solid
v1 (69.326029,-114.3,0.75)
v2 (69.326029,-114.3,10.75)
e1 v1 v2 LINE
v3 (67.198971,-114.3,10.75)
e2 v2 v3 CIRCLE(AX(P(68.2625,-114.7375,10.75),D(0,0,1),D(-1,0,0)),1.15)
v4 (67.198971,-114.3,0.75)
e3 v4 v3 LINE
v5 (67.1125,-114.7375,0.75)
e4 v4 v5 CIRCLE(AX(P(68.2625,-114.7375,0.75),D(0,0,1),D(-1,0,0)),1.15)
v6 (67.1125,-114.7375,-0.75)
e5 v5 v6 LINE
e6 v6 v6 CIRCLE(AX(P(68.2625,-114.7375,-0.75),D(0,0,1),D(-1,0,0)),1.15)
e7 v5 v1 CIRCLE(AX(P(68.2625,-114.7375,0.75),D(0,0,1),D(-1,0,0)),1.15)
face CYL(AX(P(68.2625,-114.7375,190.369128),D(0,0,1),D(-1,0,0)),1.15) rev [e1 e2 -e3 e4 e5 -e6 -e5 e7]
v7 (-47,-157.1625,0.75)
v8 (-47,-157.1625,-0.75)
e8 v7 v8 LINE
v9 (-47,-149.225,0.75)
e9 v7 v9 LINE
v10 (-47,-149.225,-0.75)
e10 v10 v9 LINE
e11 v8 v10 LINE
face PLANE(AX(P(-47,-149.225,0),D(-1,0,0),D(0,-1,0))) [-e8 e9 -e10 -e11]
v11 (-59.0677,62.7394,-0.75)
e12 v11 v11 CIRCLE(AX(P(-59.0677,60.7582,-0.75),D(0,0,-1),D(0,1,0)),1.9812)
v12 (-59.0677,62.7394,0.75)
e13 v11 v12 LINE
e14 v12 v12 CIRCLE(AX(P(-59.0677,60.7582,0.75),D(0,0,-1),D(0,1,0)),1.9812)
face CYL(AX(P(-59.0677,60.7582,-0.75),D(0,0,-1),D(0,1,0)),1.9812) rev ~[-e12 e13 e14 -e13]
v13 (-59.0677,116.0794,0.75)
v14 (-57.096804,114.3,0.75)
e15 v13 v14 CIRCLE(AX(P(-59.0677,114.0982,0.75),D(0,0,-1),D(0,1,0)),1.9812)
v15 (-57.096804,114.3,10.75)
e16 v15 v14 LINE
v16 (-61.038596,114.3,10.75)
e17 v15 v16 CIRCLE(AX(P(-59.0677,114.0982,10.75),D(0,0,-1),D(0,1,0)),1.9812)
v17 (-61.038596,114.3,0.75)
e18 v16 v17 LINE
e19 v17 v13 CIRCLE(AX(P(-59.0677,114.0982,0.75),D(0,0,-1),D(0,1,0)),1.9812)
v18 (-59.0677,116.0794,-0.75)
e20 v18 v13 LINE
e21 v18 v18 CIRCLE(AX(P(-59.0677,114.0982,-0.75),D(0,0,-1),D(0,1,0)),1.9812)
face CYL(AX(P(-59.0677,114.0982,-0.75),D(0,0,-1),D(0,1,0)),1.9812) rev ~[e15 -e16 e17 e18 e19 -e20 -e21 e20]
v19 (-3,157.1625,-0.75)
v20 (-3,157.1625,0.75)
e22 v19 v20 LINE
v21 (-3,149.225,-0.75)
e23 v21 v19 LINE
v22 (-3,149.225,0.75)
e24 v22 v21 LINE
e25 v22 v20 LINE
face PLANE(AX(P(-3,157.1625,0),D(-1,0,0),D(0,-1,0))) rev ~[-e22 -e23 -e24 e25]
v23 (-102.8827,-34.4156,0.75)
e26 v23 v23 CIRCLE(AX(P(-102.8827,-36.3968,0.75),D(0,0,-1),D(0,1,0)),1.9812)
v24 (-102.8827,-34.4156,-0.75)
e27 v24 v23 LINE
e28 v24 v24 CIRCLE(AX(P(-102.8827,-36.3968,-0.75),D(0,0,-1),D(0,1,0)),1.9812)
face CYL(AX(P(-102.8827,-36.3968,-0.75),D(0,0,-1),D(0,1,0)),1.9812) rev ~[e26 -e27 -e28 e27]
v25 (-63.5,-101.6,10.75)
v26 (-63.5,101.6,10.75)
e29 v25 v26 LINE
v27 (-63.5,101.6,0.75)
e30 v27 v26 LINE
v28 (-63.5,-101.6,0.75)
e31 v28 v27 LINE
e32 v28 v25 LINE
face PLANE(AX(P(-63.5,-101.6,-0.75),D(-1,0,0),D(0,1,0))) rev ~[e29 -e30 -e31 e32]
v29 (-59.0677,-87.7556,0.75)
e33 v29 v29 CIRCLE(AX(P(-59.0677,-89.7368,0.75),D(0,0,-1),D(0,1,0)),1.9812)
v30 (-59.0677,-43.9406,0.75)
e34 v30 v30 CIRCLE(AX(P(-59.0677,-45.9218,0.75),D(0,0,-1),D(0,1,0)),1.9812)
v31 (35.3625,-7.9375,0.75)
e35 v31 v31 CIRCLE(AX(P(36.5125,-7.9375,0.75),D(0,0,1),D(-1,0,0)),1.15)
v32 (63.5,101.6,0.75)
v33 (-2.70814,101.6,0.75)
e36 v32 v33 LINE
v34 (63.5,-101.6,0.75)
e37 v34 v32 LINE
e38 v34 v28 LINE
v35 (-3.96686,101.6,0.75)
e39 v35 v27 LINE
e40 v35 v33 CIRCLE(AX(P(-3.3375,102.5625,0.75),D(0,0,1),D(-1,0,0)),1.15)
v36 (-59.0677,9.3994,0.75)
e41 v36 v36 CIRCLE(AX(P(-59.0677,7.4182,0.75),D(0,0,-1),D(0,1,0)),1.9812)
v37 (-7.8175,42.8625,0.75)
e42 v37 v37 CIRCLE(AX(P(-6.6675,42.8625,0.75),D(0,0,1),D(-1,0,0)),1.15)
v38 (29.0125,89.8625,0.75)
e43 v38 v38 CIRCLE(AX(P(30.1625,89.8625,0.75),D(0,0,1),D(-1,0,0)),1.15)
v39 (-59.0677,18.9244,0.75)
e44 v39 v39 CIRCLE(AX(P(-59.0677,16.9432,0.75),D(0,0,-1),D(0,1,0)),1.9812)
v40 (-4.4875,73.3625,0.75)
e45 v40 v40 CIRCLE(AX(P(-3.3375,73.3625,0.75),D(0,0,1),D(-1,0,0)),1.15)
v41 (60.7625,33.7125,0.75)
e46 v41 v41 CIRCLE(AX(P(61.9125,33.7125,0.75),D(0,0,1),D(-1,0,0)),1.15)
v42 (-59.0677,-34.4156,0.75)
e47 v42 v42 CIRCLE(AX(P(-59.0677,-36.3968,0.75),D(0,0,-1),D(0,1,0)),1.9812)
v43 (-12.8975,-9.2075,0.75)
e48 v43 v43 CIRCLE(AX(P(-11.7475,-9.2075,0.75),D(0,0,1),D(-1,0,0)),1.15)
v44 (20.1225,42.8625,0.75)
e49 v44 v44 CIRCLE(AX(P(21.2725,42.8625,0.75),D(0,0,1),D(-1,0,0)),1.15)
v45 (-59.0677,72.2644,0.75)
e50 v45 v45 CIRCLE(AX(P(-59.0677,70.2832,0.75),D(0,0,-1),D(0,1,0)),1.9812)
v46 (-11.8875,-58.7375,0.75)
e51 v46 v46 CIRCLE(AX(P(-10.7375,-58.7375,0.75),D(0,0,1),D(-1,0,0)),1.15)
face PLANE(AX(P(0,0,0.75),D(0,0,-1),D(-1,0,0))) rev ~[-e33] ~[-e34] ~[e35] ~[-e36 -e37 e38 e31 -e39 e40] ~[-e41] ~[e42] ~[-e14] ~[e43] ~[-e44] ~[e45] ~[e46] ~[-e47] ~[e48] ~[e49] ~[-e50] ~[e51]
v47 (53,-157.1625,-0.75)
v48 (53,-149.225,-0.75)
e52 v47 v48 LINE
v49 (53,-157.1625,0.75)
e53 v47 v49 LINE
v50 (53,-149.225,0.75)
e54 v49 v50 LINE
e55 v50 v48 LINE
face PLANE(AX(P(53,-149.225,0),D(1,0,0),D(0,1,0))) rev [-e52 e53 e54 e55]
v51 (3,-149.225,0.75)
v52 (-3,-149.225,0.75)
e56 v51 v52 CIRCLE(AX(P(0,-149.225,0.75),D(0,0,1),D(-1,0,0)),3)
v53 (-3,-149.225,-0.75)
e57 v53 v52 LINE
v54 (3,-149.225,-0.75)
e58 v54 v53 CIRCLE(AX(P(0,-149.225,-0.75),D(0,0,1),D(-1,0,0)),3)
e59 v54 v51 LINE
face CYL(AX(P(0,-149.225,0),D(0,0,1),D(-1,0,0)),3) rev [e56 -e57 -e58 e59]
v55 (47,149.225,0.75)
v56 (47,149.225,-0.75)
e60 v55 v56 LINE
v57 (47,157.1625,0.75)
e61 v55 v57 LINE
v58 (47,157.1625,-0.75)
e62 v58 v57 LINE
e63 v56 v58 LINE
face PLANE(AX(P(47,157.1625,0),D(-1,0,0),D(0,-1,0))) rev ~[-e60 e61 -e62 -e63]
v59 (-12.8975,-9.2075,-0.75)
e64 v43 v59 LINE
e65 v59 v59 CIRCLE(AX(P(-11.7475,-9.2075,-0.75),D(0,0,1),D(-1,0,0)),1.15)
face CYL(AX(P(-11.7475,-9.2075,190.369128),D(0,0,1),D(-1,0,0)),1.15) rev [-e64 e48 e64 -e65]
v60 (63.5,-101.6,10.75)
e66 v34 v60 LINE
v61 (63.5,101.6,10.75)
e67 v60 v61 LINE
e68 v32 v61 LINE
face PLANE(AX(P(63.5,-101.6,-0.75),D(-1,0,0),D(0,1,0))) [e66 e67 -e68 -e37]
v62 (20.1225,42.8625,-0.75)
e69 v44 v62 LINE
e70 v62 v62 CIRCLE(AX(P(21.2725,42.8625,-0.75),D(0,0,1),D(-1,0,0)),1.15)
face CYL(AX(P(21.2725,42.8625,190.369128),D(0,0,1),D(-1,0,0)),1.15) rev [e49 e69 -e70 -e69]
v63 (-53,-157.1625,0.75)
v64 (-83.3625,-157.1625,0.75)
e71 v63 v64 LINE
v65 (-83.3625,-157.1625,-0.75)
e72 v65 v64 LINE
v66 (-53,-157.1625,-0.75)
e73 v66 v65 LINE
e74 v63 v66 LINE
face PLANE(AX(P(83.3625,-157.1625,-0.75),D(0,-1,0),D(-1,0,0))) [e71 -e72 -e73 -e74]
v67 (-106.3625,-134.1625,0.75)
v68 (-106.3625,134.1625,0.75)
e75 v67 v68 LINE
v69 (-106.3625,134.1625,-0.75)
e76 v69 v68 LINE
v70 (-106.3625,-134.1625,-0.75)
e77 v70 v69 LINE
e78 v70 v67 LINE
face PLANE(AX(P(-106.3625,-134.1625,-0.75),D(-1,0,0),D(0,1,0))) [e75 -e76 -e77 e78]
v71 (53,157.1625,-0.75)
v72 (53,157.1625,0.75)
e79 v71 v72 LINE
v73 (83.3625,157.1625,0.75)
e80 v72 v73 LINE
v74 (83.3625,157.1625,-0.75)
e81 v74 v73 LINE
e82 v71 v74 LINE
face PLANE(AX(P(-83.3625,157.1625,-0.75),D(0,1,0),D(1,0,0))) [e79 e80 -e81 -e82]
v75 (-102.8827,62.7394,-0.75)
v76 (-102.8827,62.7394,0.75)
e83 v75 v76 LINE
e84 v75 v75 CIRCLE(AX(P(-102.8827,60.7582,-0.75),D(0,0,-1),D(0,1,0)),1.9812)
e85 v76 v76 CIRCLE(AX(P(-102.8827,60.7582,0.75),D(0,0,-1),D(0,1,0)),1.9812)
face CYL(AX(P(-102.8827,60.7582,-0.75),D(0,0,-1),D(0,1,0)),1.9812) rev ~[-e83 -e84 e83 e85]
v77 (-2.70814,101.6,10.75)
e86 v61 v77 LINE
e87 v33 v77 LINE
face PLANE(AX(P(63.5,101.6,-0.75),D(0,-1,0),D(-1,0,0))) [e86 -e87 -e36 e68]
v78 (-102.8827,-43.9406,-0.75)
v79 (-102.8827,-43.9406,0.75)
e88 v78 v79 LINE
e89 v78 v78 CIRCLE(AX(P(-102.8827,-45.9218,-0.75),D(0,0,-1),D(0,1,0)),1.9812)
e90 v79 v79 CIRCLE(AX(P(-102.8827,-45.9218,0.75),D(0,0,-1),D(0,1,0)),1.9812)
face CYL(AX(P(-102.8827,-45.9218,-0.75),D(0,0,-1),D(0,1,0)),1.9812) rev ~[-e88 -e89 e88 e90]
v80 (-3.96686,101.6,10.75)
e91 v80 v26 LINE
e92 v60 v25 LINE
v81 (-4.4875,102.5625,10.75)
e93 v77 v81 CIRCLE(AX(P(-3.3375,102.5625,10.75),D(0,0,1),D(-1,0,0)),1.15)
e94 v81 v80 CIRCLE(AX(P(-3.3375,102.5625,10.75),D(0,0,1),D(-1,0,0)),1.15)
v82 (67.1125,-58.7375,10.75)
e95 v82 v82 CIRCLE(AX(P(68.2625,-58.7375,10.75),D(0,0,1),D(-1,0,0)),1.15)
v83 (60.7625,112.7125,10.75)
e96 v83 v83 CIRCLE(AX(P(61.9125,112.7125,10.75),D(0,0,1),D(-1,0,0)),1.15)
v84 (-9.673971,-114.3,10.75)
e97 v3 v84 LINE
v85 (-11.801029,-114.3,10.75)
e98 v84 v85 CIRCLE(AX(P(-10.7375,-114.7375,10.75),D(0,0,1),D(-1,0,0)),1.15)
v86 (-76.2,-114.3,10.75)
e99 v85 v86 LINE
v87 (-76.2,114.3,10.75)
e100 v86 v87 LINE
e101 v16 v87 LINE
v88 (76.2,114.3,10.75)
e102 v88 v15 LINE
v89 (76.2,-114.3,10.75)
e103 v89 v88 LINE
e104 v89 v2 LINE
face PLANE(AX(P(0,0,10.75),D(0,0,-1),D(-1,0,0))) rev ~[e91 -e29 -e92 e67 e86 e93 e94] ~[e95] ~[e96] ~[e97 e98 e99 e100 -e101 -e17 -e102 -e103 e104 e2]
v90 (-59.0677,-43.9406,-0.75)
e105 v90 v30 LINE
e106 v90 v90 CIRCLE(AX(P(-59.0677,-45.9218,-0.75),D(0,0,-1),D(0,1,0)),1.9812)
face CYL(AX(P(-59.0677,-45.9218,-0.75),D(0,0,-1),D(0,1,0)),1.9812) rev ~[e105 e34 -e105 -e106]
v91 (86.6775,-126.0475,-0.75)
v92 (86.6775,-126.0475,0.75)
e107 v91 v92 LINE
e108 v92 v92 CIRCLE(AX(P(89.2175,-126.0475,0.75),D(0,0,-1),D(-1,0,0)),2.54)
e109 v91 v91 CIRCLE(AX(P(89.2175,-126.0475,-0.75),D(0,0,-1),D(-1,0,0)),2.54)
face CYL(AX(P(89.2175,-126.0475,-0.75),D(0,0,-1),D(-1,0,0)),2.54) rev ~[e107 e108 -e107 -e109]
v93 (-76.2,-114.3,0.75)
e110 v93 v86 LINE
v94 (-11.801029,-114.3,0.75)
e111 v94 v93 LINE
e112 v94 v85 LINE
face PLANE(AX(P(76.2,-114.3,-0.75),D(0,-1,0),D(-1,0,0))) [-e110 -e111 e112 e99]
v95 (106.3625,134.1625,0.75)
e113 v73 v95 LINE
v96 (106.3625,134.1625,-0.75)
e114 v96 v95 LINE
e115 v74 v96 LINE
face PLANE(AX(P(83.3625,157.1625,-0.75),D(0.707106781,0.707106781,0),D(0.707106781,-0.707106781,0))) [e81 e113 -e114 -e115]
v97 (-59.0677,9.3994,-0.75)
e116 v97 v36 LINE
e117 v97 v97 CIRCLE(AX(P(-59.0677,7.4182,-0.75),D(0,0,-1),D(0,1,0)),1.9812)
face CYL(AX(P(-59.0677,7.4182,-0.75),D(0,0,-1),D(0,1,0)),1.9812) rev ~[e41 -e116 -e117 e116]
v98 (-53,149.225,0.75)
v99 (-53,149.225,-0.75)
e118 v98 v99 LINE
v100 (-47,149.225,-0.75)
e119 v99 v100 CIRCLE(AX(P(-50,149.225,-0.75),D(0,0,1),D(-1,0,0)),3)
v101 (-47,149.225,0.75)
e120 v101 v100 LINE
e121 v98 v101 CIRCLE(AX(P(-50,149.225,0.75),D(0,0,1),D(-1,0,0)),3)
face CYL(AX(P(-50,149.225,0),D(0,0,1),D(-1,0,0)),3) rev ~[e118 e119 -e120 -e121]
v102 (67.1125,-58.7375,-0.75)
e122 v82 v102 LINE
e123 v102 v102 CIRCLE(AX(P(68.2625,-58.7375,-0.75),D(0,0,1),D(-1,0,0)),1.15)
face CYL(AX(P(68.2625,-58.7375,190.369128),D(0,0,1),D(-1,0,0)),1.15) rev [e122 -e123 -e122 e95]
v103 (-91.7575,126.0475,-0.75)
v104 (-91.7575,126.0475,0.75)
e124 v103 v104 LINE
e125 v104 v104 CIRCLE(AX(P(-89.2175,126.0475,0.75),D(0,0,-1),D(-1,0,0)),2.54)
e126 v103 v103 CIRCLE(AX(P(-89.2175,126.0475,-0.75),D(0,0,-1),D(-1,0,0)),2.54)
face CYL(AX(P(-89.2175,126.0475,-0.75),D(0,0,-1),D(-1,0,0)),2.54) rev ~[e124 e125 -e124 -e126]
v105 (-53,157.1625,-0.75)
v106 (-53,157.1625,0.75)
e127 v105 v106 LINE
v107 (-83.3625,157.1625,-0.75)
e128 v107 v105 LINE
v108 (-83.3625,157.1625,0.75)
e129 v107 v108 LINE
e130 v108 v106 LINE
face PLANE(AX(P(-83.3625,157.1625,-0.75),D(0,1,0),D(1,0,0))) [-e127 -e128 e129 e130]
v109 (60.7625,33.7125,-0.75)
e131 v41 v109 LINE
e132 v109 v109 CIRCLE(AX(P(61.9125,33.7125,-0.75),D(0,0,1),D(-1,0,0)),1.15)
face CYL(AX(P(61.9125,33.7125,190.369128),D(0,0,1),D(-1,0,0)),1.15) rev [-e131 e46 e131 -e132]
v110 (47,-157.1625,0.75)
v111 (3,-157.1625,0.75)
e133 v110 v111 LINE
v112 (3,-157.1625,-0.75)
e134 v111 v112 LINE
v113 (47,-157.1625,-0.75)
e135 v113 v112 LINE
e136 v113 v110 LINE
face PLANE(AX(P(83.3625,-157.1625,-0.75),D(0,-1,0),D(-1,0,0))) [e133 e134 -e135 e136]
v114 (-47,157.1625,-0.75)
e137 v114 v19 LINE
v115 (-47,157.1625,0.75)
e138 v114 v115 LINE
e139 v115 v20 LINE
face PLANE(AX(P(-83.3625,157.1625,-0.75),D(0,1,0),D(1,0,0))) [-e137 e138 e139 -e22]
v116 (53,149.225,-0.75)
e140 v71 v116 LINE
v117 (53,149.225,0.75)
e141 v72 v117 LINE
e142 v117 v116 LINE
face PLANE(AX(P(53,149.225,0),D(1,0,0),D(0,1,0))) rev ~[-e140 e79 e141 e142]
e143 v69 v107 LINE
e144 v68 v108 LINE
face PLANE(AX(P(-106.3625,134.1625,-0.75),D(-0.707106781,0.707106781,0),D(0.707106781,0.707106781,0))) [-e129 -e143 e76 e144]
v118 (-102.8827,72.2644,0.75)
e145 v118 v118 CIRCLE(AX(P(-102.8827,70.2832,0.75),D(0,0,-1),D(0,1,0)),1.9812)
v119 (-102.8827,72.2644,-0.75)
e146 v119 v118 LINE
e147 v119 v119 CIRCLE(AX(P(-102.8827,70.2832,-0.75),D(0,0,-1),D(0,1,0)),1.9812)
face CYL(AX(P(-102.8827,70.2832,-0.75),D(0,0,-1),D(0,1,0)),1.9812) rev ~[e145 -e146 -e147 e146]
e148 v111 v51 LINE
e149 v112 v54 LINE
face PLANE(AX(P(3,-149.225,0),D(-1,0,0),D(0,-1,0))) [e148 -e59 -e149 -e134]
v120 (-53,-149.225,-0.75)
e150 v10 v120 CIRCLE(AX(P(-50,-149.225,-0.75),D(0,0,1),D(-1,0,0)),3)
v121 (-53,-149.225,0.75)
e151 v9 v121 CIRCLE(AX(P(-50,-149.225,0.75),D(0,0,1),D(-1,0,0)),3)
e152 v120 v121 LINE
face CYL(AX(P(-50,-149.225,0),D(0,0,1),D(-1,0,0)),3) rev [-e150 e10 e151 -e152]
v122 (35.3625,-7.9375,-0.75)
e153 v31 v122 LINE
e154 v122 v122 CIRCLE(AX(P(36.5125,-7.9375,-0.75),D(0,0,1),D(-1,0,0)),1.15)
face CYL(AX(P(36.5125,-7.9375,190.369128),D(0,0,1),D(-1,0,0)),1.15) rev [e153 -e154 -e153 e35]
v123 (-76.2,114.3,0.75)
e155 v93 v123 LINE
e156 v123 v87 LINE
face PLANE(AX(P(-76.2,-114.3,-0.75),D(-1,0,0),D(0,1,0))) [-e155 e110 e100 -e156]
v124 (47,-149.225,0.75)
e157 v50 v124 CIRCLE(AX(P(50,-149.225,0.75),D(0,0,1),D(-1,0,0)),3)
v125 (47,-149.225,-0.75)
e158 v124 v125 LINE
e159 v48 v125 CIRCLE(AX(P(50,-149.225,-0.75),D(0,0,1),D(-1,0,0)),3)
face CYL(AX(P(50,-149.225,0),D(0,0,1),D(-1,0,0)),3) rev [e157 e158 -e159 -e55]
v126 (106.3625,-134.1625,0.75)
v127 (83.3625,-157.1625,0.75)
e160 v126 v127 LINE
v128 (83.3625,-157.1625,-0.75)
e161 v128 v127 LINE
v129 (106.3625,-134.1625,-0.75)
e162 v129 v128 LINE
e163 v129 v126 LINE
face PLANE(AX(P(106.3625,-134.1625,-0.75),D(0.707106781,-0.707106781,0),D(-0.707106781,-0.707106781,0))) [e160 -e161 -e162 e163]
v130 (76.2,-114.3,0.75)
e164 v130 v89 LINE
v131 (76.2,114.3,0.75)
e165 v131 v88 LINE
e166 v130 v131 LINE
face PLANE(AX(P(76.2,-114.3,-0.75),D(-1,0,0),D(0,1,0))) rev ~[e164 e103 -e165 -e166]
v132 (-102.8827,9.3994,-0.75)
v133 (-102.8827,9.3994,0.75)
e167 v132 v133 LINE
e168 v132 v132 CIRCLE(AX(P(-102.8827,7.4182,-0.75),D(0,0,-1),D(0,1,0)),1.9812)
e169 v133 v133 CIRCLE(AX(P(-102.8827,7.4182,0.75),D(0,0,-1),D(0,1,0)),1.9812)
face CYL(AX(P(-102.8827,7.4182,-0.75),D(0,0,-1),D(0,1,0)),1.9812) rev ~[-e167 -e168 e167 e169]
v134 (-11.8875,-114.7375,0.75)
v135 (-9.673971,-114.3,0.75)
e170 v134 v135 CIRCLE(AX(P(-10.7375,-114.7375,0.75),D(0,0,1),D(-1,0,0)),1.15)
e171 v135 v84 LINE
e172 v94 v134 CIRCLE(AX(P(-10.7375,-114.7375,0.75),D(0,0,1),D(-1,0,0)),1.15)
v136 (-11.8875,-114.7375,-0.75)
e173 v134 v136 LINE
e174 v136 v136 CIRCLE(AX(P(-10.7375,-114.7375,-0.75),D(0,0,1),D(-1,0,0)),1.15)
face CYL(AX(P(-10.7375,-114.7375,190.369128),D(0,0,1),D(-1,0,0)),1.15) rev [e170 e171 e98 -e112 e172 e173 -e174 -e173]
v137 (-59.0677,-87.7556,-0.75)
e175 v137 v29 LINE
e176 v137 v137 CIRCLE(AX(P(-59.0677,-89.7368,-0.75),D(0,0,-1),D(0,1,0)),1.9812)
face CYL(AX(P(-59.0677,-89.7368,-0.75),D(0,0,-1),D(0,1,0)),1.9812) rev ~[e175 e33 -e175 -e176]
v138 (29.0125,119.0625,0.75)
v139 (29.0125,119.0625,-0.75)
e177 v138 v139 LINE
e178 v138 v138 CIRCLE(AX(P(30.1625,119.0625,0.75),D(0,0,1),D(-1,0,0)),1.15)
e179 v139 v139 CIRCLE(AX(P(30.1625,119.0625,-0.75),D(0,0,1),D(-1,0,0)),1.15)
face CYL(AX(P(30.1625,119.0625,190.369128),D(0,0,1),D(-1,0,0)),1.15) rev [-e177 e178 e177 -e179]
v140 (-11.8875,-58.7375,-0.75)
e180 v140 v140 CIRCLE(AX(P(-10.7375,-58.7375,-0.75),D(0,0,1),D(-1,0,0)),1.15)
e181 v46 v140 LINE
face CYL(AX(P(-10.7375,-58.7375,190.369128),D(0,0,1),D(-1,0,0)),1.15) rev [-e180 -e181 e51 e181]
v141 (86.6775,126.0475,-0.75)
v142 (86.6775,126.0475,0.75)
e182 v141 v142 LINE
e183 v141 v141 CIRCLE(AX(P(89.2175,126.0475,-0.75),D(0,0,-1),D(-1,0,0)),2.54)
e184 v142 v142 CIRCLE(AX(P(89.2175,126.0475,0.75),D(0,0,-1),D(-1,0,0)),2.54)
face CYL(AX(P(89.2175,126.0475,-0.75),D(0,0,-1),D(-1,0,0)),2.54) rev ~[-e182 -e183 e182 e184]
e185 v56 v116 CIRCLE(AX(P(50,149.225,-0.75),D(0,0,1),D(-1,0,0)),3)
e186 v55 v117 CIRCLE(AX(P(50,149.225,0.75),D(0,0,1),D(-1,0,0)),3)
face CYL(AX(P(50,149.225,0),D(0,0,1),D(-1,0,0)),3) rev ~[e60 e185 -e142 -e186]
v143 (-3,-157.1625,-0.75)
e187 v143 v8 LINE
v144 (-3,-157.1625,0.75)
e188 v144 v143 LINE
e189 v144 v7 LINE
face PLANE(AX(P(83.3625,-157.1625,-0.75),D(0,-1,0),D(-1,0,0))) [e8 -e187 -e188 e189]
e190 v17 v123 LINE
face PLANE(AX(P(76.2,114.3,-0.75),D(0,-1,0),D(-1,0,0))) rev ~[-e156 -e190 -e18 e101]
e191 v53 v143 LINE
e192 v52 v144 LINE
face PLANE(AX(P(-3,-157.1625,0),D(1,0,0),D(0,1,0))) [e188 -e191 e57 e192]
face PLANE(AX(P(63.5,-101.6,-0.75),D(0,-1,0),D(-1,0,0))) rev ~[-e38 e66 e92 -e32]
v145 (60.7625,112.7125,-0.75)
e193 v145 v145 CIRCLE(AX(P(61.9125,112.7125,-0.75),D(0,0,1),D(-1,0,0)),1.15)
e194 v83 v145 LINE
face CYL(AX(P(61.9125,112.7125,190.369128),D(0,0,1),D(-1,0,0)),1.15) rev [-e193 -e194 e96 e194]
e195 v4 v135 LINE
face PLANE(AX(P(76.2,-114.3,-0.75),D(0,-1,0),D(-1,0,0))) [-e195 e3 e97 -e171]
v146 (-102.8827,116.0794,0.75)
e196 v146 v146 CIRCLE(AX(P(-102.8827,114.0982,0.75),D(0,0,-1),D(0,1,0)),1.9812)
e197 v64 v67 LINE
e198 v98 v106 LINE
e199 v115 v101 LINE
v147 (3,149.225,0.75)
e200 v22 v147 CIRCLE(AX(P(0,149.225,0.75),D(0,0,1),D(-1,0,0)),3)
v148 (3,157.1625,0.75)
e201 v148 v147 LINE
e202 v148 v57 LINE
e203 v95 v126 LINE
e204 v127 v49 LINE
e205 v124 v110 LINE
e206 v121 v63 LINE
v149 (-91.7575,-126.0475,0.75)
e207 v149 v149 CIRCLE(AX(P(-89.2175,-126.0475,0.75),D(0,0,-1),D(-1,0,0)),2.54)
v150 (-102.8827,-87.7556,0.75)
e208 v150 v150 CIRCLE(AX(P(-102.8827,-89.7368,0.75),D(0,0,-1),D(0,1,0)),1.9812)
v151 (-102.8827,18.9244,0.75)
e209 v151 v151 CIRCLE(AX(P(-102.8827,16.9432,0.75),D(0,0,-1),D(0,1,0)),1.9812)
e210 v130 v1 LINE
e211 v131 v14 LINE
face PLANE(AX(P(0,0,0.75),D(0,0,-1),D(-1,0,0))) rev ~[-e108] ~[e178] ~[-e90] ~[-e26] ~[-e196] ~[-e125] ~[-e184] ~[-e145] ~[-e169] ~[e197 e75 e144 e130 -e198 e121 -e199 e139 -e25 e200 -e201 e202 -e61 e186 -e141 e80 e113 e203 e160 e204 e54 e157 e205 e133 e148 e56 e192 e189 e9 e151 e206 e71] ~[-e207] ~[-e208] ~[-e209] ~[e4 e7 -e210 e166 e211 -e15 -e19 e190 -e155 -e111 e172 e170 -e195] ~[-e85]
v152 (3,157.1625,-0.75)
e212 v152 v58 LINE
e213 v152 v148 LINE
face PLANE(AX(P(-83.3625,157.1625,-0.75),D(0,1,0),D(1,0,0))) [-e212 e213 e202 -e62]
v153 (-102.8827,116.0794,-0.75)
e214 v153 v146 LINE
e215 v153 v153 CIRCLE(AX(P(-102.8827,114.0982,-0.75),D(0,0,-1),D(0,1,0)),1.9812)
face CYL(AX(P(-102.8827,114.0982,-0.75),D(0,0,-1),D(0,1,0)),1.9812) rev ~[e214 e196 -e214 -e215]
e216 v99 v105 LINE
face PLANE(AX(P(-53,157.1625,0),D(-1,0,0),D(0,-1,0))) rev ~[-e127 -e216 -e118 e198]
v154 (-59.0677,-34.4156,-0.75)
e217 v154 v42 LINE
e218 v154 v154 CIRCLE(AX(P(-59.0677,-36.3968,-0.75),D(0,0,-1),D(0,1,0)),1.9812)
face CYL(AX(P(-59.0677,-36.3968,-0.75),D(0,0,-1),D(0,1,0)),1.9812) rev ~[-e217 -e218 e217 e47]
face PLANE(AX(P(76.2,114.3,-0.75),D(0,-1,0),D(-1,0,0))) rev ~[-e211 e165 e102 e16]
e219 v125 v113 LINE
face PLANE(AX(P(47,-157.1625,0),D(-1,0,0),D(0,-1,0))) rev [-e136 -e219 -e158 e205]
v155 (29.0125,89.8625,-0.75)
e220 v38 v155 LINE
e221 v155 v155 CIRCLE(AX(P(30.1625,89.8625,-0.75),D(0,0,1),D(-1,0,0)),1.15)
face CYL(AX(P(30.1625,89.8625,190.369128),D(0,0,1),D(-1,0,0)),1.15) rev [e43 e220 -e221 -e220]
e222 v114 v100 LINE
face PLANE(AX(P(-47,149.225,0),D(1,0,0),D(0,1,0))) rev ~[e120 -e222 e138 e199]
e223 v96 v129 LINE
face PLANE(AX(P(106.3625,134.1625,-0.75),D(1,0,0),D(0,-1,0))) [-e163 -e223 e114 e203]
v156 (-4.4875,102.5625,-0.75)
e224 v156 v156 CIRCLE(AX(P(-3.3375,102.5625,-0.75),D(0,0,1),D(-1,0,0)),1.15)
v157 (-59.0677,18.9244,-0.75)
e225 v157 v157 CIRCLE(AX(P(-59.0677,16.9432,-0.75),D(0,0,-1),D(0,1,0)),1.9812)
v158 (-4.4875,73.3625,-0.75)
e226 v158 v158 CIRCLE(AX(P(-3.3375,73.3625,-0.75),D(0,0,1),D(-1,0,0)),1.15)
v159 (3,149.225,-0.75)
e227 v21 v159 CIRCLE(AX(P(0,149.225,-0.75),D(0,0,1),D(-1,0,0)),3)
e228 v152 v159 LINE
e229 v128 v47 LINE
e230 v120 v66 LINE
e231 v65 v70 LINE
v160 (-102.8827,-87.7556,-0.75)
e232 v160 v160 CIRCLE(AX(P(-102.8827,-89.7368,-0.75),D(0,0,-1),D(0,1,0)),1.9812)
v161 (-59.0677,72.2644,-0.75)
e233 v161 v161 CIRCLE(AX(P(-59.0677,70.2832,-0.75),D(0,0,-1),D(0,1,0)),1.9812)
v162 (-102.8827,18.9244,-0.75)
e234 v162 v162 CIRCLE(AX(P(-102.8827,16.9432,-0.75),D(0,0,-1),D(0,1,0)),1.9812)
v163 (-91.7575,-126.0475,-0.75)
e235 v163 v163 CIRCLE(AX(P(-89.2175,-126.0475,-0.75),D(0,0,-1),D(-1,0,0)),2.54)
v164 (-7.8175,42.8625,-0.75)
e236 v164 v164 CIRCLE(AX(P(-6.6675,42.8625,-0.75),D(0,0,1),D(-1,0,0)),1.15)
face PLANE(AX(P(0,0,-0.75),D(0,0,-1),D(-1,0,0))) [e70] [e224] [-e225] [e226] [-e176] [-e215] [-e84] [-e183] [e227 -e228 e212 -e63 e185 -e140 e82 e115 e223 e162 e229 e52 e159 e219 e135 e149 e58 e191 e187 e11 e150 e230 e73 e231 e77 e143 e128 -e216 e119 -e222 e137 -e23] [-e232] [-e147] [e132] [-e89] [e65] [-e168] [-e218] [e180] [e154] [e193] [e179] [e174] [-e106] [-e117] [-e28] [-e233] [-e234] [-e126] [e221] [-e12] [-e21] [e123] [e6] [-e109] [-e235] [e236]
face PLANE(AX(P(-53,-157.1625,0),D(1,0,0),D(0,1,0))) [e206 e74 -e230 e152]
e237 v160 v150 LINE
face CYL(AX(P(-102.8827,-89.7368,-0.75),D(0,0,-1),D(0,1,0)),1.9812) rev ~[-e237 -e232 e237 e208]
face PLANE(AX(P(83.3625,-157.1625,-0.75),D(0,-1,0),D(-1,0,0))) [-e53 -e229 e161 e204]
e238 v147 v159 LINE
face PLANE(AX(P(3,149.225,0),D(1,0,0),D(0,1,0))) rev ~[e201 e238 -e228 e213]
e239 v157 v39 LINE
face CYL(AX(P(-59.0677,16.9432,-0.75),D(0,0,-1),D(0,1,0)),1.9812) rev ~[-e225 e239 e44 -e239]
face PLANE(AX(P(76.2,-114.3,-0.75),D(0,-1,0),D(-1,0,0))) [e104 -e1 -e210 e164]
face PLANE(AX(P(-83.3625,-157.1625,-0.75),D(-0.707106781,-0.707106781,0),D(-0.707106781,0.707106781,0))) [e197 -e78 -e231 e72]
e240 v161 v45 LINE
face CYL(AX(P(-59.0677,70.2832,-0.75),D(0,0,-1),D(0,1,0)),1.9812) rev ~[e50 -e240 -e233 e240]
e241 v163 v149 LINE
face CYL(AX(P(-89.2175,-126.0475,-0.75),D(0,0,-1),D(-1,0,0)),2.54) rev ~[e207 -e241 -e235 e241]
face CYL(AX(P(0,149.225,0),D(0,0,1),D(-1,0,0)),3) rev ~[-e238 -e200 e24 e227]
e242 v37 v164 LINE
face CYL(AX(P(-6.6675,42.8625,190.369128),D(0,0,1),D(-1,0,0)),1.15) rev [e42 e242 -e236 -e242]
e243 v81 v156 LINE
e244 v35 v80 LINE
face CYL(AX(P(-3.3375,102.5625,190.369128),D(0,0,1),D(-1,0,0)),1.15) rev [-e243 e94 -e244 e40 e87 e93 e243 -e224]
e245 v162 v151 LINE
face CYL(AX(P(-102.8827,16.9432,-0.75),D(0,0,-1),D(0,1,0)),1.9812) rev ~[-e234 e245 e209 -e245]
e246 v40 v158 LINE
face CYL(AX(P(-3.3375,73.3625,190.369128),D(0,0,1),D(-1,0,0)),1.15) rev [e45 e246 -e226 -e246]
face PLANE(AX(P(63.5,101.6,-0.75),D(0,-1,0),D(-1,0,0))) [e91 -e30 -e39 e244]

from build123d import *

# Parameters (mm, degrees)
BOSS_EXTRUDE1_DEPTH      = 0.75
BOSS_EXTRUDE1_DEPTH_BACK = 0.75
CUT_EXTRUDE1_DEPTH       = 190.772483022
LPATTERN1_COUNT          = 7
LPATTERN1_PITCH          = 50
MIRROR1_COPY_1_DEPTH     = 190.772483022
MIRROR1_COPY_2_DEPTH     = 190.772483022
MIRROR1_COPY_3_DEPTH     = 190.772483022
MIRROR1_COPY_4_DEPTH     = 190.772483022
MIRROR1_COPY_5_DEPTH     = 190.772483022
MIRROR1_COPY_6_DEPTH     = 190.772483022
SKETCH6_W                = 152.4
SKETCH6_H                = 228.6
SKETCH6_W_2              = 127
SKETCH6_H_2              = 203.2
BOSS_EXTRUDE2_DEPTH      = 11.5
SKETCH7_R                = 2.54
CUT_EXTRUDE2_DEPTH       = 191.11912795
CUT_EXTRUDE3_DEPTH       = 191.11912795
CUT_EXTRUDE3_DEPTH_BACK  = 191.11912795
SKETCH8_R                = 1.15
CUT_EXTRUDE4_DEPTH       = 191.11912795


with BuildPart() as part:
    # Sketch3 → Boss-Extrude1 (new, two sides: drawn at the far end of the back side and taken through both)
    with BuildSketch(Plane.XY.offset(-BOSS_EXTRUDE1_DEPTH_BACK)):
        Polygon((-106.3625, 134.1625), (-83.3625, 157.1625), (83.3625, 157.1625), (106.3625, 134.1625), (106.3625, -134.1625), (83.3625, -157.1625), (-83.3625, -157.1625), (-106.3625, -134.1625), align=None)
    extrude(amount=BOSS_EXTRUDE1_DEPTH + BOSS_EXTRUDE1_DEPTH_BACK)

    # Sketch4 → Cut-Extrude1 (cut, symmetric)
    with BuildSketch(Plane.XY):
        with BuildLine():
            Line((53, 149.225), (53, 157.1625))
            Line((53, 157.1625), (47, 157.1625))
            Line((47, 157.1625), (47, 149.225))
            ThreePointArc((47, 149.225), (50, 146.225), (53, 149.225))
        make_face()
    cut_extrude1 = extrude(amount=CUT_EXTRUDE1_DEPTH, both=True, mode=Mode.SUBTRACT)

    # LPattern1: Cut-Extrude1 ×7
    with Locations(*[(-i * LPATTERN1_PITCH, 0, 0) for i in range(1, LPATTERN1_COUNT)]):
        add(cut_extrude1, mode=Mode.SUBTRACT)

    # Mirror1: Cut-Extrude1 across plane
    add(cut_extrude1.mirror(Plane.ZX), mode=Mode.SUBTRACT)

    # Mirror1 copy 1 sketch → Mirror1 copy 1 (cut, symmetric)
    with BuildSketch(Plane(origin=(-50, 0, 0), x_dir=(1, 0, 0), z_dir=(0, 0, 1))):
        with BuildLine():
            Line((53, -149.225), (53, -157.1625))
            Line((53, -157.1625), (47, -157.1625))
            Line((47, -157.1625), (47, -149.225))
            ThreePointArc((47, -149.225), (50, -146.225), (53, -149.225))
        make_face()
    extrude(amount=MIRROR1_COPY_1_DEPTH, both=True, mode=Mode.SUBTRACT)

    # Mirror1 copy 2 sketch → Mirror1 copy 2 (cut, symmetric)
    with BuildSketch(Plane(origin=(-100, 0, 0), x_dir=(1, 0, 0), z_dir=(0, 0, 1))):
        with BuildLine():
            Line((53, -149.225), (53, -157.1625))
            Line((53, -157.1625), (47, -157.1625))
            Line((47, -157.1625), (47, -149.225))
            ThreePointArc((47, -149.225), (50, -146.225), (53, -149.225))
        make_face()
    extrude(amount=MIRROR1_COPY_2_DEPTH, both=True, mode=Mode.SUBTRACT)

    # Mirror1 copy 3 sketch → Mirror1 copy 3 (cut, symmetric)
    with BuildSketch(Plane(origin=(-150, 0, 0), x_dir=(1, 0, 0), z_dir=(0, 0, 1))):
        with BuildLine():
            Line((53, -149.225), (53, -157.1625))
            Line((53, -157.1625), (47, -157.1625))
            Line((47, -157.1625), (47, -149.225))
            ThreePointArc((47, -149.225), (50, -146.225), (53, -149.225))
        make_face()
    extrude(amount=MIRROR1_COPY_3_DEPTH, both=True, mode=Mode.SUBTRACT)

    # Mirror1 copy 4 sketch → Mirror1 copy 4 (cut, symmetric)
    with BuildSketch(Plane(origin=(-200, 0, 0), x_dir=(1, 0, 0), z_dir=(0, 0, 1))):
        with BuildLine():
            Line((53, -149.225), (53, -157.1625))
            Line((53, -157.1625), (47, -157.1625))
            Line((47, -157.1625), (47, -149.225))
            ThreePointArc((47, -149.225), (50, -146.225), (53, -149.225))
        make_face()
    extrude(amount=MIRROR1_COPY_4_DEPTH, both=True, mode=Mode.SUBTRACT)

    # Mirror1 copy 5 sketch → Mirror1 copy 5 (cut, symmetric)
    with BuildSketch(Plane(origin=(-250, 0, 0), x_dir=(1, 0, 0), z_dir=(0, 0, 1))):
        with BuildLine():
            Line((53, -149.225), (53, -157.1625))
            Line((53, -157.1625), (47, -157.1625))
            Line((47, -157.1625), (47, -149.225))
            ThreePointArc((47, -149.225), (50, -146.225), (53, -149.225))
        make_face()
    extrude(amount=MIRROR1_COPY_5_DEPTH, both=True, mode=Mode.SUBTRACT)

    # Mirror1 copy 6 sketch → Mirror1 copy 6 (cut, symmetric)
    with BuildSketch(Plane(origin=(-300, 0, 0), x_dir=(1, 0, 0), z_dir=(0, 0, 1))):
        with BuildLine():
            Line((53, -149.225), (53, -157.1625))
            Line((53, -157.1625), (47, -157.1625))
            Line((47, -157.1625), (47, -149.225))
            ThreePointArc((47, -149.225), (50, -146.225), (53, -149.225))
        make_face()
    extrude(amount=MIRROR1_COPY_6_DEPTH, both=True, mode=Mode.SUBTRACT)

    # Sketch6 → Boss-Extrude2 (add)
    with BuildSketch(Plane(origin=(0, 0, -0.75), x_dir=(-1, 0, 0), z_dir=(0, 0, -1))):
        Rectangle(SKETCH6_W, SKETCH6_H)
        Rectangle(SKETCH6_W_2, SKETCH6_H_2, mode=Mode.SUBTRACT)
    extrude(amount=-BOSS_EXTRUDE2_DEPTH)

    # Sketch7 → Cut-Extrude2 (cut, through all)
    with BuildSketch(Plane(origin=(0, 0, -0.75), x_dir=(-1, 0, 0), z_dir=(0, 0, -1))):
        with Locations((89.2175, 126.0475)):
            Circle(SKETCH7_R)
        with Locations((-89.2175, 126.0475)):
            Circle(SKETCH7_R)
        with Locations((-89.2175, -126.0475)):
            Circle(SKETCH7_R)
        with Locations((89.2175, -126.0475)):
            Circle(SKETCH7_R)
    extrude(amount=-CUT_EXTRUDE2_DEPTH, mode=Mode.SUBTRACT)

    # Sketch8 → Cut-Extrude3 (cut, two sides: drawn at the far end of the back side and taken through both)
    with BuildSketch(Plane(origin=(0, 0, -0.75), x_dir=(-1, 0, 0), z_dir=(0, 0, -1)).offset(-CUT_EXTRUDE3_DEPTH_BACK)):
        with Locations((-30.1625, 119.0625)):
            Circle(SKETCH8_R)
        with Locations((3.3375, 102.5625)):
            Circle(SKETCH8_R)
        with Locations((-30.1625, 89.8625)):
            Circle(SKETCH8_R)
        with Locations((3.3375, 73.3625)):
            Circle(SKETCH8_R)
        with Locations((-21.2725, 42.8625)):
            Circle(SKETCH8_R)
        with Locations((6.6675, 42.8625)):
            Circle(SKETCH8_R)
        with Locations((-36.5125, -7.9375)):
            Circle(SKETCH8_R)
        with Locations((11.7475, -9.2075)):
            Circle(SKETCH8_R)
        with Locations((-68.2625, -58.7375)):
            Circle(SKETCH8_R)
        with Locations((10.7375, -58.7375)):
            Circle(SKETCH8_R)
        with Locations((10.7375, -114.7375)):
            Circle(SKETCH8_R)
        with Locations((-68.2625, -114.7375)):
            Circle(SKETCH8_R)
        with Locations((-61.9125, 112.7125)):
            Circle(SKETCH8_R)
        with Locations((-61.9125, 33.7125)):
            Circle(SKETCH8_R)
    extrude(amount=CUT_EXTRUDE3_DEPTH + CUT_EXTRUDE3_DEPTH_BACK, mode=Mode.SUBTRACT)

    # Sketch10 → Cut-Extrude4 (cut, through all)
    with BuildSketch(Plane(origin=(0, 0, -0.75), x_dir=(-1, 0, 0), z_dir=(0, 0, -1))):
        with BuildLine():
            ThreePointArc((59.0677, -91.718), (61.0489, -89.7368), (59.0677, -87.7556))
            ThreePointArc((59.0677, -87.7556), (57.0865, -89.7368), (59.0677, -91.718))
        make_face()
        with BuildLine():
            ThreePointArc((59.0677, -38.378), (61.0489, -36.3968), (59.0677, -34.4156))
            ThreePointArc((59.0677, -34.4156), (57.0865, -36.3968), (59.0677, -38.378))
        make_face()
        with BuildLine():
            ThreePointArc((59.0677, -47.903), (61.0489, -45.9218), (59.0677, -43.9406))
            ThreePointArc((59.0677, -43.9406), (57.0865, -45.9218), (59.0677, -47.903))
        make_face()
        with BuildLine():
            ThreePointArc((59.0677, 5.437), (61.0489, 7.4182), (59.0677, 9.3994))
            ThreePointArc((59.0677, 9.3994), (57.0865, 7.4182), (59.0677, 5.437))
        make_face()
        with BuildLine():
            ThreePointArc((59.0677, 14.962), (61.0489, 16.9432), (59.0677, 18.9244))
            ThreePointArc((59.0677, 18.9244), (57.0865, 16.9432), (59.0677, 14.962))
        make_face()
        with BuildLine():
            ThreePointArc((59.0677, 58.777), (61.0489, 60.7582), (59.0677, 62.7394))
            ThreePointArc((59.0677, 62.7394), (57.0865, 60.7582), (59.0677, 58.777))
        make_face()
        with BuildLine():
            ThreePointArc((59.0677, 68.302), (61.0489, 70.2832), (59.0677, 72.2644))
            ThreePointArc((59.0677, 72.2644), (57.0865, 70.2832), (59.0677, 68.302))
        make_face()
        with BuildLine():
            ThreePointArc((59.0677, 112.117), (61.0489, 114.0982), (59.0677, 116.0794))
            ThreePointArc((59.0677, 116.0794), (57.0865, 114.0982), (59.0677, 112.117))
        make_face()
        with BuildLine():
            ThreePointArc((102.8827, 68.302), (104.8639, 70.2832), (102.8827, 72.2644))
            ThreePointArc((102.8827, 72.2644), (100.9015, 70.2832), (102.8827, 68.302))
        make_face()
        with BuildLine():
            ThreePointArc((102.8827, 112.117), (104.8639, 114.0982), (102.8827, 116.0794))
            ThreePointArc((102.8827, 116.0794), (100.9015, 114.0982), (102.8827, 112.117))
        make_face()
        with BuildLine():
            ThreePointArc((102.8827, 14.962), (104.8639, 16.9432), (102.8827, 18.9244))
            ThreePointArc((102.8827, 18.9244), (100.9015, 16.9432), (102.8827, 14.962))
        make_face()
        with BuildLine():
            ThreePointArc((102.8827, 58.777), (104.8639, 60.7582), (102.8827, 62.7394))
            ThreePointArc((102.8827, 62.7394), (100.9015, 60.7582), (102.8827, 58.777))
        make_face()
        with BuildLine():
            ThreePointArc((102.8827, -38.378), (104.8639, -36.3968), (102.8827, -34.4156))
            ThreePointArc((102.8827, -34.4156), (100.9015, -36.3968), (102.8827, -38.378))
        make_face()
        with BuildLine():
            ThreePointArc((102.8827, 5.437), (104.8639, 7.4182), (102.8827, 9.3994))
            ThreePointArc((102.8827, 9.3994), (100.9015, 7.4182), (102.8827, 5.437))
        make_face()
        with BuildLine():
            ThreePointArc((102.8827, -47.903), (104.8639, -45.9218), (102.8827, -43.9406))
            ThreePointArc((102.8827, -43.9406), (100.9015, -45.9218), (102.8827, -47.903))
        make_face()
        with BuildLine():
            ThreePointArc((102.8827, -91.718), (104.8639, -89.7368), (102.8827, -87.7556))
            ThreePointArc((102.8827, -87.7556), (100.9015, -89.7368), (102.8827, -91.718))
        make_face()
    extrude(amount=-CUT_EXTRUDE4_DEPTH, mode=Mode.SUBTRACT)


solid = part.part
